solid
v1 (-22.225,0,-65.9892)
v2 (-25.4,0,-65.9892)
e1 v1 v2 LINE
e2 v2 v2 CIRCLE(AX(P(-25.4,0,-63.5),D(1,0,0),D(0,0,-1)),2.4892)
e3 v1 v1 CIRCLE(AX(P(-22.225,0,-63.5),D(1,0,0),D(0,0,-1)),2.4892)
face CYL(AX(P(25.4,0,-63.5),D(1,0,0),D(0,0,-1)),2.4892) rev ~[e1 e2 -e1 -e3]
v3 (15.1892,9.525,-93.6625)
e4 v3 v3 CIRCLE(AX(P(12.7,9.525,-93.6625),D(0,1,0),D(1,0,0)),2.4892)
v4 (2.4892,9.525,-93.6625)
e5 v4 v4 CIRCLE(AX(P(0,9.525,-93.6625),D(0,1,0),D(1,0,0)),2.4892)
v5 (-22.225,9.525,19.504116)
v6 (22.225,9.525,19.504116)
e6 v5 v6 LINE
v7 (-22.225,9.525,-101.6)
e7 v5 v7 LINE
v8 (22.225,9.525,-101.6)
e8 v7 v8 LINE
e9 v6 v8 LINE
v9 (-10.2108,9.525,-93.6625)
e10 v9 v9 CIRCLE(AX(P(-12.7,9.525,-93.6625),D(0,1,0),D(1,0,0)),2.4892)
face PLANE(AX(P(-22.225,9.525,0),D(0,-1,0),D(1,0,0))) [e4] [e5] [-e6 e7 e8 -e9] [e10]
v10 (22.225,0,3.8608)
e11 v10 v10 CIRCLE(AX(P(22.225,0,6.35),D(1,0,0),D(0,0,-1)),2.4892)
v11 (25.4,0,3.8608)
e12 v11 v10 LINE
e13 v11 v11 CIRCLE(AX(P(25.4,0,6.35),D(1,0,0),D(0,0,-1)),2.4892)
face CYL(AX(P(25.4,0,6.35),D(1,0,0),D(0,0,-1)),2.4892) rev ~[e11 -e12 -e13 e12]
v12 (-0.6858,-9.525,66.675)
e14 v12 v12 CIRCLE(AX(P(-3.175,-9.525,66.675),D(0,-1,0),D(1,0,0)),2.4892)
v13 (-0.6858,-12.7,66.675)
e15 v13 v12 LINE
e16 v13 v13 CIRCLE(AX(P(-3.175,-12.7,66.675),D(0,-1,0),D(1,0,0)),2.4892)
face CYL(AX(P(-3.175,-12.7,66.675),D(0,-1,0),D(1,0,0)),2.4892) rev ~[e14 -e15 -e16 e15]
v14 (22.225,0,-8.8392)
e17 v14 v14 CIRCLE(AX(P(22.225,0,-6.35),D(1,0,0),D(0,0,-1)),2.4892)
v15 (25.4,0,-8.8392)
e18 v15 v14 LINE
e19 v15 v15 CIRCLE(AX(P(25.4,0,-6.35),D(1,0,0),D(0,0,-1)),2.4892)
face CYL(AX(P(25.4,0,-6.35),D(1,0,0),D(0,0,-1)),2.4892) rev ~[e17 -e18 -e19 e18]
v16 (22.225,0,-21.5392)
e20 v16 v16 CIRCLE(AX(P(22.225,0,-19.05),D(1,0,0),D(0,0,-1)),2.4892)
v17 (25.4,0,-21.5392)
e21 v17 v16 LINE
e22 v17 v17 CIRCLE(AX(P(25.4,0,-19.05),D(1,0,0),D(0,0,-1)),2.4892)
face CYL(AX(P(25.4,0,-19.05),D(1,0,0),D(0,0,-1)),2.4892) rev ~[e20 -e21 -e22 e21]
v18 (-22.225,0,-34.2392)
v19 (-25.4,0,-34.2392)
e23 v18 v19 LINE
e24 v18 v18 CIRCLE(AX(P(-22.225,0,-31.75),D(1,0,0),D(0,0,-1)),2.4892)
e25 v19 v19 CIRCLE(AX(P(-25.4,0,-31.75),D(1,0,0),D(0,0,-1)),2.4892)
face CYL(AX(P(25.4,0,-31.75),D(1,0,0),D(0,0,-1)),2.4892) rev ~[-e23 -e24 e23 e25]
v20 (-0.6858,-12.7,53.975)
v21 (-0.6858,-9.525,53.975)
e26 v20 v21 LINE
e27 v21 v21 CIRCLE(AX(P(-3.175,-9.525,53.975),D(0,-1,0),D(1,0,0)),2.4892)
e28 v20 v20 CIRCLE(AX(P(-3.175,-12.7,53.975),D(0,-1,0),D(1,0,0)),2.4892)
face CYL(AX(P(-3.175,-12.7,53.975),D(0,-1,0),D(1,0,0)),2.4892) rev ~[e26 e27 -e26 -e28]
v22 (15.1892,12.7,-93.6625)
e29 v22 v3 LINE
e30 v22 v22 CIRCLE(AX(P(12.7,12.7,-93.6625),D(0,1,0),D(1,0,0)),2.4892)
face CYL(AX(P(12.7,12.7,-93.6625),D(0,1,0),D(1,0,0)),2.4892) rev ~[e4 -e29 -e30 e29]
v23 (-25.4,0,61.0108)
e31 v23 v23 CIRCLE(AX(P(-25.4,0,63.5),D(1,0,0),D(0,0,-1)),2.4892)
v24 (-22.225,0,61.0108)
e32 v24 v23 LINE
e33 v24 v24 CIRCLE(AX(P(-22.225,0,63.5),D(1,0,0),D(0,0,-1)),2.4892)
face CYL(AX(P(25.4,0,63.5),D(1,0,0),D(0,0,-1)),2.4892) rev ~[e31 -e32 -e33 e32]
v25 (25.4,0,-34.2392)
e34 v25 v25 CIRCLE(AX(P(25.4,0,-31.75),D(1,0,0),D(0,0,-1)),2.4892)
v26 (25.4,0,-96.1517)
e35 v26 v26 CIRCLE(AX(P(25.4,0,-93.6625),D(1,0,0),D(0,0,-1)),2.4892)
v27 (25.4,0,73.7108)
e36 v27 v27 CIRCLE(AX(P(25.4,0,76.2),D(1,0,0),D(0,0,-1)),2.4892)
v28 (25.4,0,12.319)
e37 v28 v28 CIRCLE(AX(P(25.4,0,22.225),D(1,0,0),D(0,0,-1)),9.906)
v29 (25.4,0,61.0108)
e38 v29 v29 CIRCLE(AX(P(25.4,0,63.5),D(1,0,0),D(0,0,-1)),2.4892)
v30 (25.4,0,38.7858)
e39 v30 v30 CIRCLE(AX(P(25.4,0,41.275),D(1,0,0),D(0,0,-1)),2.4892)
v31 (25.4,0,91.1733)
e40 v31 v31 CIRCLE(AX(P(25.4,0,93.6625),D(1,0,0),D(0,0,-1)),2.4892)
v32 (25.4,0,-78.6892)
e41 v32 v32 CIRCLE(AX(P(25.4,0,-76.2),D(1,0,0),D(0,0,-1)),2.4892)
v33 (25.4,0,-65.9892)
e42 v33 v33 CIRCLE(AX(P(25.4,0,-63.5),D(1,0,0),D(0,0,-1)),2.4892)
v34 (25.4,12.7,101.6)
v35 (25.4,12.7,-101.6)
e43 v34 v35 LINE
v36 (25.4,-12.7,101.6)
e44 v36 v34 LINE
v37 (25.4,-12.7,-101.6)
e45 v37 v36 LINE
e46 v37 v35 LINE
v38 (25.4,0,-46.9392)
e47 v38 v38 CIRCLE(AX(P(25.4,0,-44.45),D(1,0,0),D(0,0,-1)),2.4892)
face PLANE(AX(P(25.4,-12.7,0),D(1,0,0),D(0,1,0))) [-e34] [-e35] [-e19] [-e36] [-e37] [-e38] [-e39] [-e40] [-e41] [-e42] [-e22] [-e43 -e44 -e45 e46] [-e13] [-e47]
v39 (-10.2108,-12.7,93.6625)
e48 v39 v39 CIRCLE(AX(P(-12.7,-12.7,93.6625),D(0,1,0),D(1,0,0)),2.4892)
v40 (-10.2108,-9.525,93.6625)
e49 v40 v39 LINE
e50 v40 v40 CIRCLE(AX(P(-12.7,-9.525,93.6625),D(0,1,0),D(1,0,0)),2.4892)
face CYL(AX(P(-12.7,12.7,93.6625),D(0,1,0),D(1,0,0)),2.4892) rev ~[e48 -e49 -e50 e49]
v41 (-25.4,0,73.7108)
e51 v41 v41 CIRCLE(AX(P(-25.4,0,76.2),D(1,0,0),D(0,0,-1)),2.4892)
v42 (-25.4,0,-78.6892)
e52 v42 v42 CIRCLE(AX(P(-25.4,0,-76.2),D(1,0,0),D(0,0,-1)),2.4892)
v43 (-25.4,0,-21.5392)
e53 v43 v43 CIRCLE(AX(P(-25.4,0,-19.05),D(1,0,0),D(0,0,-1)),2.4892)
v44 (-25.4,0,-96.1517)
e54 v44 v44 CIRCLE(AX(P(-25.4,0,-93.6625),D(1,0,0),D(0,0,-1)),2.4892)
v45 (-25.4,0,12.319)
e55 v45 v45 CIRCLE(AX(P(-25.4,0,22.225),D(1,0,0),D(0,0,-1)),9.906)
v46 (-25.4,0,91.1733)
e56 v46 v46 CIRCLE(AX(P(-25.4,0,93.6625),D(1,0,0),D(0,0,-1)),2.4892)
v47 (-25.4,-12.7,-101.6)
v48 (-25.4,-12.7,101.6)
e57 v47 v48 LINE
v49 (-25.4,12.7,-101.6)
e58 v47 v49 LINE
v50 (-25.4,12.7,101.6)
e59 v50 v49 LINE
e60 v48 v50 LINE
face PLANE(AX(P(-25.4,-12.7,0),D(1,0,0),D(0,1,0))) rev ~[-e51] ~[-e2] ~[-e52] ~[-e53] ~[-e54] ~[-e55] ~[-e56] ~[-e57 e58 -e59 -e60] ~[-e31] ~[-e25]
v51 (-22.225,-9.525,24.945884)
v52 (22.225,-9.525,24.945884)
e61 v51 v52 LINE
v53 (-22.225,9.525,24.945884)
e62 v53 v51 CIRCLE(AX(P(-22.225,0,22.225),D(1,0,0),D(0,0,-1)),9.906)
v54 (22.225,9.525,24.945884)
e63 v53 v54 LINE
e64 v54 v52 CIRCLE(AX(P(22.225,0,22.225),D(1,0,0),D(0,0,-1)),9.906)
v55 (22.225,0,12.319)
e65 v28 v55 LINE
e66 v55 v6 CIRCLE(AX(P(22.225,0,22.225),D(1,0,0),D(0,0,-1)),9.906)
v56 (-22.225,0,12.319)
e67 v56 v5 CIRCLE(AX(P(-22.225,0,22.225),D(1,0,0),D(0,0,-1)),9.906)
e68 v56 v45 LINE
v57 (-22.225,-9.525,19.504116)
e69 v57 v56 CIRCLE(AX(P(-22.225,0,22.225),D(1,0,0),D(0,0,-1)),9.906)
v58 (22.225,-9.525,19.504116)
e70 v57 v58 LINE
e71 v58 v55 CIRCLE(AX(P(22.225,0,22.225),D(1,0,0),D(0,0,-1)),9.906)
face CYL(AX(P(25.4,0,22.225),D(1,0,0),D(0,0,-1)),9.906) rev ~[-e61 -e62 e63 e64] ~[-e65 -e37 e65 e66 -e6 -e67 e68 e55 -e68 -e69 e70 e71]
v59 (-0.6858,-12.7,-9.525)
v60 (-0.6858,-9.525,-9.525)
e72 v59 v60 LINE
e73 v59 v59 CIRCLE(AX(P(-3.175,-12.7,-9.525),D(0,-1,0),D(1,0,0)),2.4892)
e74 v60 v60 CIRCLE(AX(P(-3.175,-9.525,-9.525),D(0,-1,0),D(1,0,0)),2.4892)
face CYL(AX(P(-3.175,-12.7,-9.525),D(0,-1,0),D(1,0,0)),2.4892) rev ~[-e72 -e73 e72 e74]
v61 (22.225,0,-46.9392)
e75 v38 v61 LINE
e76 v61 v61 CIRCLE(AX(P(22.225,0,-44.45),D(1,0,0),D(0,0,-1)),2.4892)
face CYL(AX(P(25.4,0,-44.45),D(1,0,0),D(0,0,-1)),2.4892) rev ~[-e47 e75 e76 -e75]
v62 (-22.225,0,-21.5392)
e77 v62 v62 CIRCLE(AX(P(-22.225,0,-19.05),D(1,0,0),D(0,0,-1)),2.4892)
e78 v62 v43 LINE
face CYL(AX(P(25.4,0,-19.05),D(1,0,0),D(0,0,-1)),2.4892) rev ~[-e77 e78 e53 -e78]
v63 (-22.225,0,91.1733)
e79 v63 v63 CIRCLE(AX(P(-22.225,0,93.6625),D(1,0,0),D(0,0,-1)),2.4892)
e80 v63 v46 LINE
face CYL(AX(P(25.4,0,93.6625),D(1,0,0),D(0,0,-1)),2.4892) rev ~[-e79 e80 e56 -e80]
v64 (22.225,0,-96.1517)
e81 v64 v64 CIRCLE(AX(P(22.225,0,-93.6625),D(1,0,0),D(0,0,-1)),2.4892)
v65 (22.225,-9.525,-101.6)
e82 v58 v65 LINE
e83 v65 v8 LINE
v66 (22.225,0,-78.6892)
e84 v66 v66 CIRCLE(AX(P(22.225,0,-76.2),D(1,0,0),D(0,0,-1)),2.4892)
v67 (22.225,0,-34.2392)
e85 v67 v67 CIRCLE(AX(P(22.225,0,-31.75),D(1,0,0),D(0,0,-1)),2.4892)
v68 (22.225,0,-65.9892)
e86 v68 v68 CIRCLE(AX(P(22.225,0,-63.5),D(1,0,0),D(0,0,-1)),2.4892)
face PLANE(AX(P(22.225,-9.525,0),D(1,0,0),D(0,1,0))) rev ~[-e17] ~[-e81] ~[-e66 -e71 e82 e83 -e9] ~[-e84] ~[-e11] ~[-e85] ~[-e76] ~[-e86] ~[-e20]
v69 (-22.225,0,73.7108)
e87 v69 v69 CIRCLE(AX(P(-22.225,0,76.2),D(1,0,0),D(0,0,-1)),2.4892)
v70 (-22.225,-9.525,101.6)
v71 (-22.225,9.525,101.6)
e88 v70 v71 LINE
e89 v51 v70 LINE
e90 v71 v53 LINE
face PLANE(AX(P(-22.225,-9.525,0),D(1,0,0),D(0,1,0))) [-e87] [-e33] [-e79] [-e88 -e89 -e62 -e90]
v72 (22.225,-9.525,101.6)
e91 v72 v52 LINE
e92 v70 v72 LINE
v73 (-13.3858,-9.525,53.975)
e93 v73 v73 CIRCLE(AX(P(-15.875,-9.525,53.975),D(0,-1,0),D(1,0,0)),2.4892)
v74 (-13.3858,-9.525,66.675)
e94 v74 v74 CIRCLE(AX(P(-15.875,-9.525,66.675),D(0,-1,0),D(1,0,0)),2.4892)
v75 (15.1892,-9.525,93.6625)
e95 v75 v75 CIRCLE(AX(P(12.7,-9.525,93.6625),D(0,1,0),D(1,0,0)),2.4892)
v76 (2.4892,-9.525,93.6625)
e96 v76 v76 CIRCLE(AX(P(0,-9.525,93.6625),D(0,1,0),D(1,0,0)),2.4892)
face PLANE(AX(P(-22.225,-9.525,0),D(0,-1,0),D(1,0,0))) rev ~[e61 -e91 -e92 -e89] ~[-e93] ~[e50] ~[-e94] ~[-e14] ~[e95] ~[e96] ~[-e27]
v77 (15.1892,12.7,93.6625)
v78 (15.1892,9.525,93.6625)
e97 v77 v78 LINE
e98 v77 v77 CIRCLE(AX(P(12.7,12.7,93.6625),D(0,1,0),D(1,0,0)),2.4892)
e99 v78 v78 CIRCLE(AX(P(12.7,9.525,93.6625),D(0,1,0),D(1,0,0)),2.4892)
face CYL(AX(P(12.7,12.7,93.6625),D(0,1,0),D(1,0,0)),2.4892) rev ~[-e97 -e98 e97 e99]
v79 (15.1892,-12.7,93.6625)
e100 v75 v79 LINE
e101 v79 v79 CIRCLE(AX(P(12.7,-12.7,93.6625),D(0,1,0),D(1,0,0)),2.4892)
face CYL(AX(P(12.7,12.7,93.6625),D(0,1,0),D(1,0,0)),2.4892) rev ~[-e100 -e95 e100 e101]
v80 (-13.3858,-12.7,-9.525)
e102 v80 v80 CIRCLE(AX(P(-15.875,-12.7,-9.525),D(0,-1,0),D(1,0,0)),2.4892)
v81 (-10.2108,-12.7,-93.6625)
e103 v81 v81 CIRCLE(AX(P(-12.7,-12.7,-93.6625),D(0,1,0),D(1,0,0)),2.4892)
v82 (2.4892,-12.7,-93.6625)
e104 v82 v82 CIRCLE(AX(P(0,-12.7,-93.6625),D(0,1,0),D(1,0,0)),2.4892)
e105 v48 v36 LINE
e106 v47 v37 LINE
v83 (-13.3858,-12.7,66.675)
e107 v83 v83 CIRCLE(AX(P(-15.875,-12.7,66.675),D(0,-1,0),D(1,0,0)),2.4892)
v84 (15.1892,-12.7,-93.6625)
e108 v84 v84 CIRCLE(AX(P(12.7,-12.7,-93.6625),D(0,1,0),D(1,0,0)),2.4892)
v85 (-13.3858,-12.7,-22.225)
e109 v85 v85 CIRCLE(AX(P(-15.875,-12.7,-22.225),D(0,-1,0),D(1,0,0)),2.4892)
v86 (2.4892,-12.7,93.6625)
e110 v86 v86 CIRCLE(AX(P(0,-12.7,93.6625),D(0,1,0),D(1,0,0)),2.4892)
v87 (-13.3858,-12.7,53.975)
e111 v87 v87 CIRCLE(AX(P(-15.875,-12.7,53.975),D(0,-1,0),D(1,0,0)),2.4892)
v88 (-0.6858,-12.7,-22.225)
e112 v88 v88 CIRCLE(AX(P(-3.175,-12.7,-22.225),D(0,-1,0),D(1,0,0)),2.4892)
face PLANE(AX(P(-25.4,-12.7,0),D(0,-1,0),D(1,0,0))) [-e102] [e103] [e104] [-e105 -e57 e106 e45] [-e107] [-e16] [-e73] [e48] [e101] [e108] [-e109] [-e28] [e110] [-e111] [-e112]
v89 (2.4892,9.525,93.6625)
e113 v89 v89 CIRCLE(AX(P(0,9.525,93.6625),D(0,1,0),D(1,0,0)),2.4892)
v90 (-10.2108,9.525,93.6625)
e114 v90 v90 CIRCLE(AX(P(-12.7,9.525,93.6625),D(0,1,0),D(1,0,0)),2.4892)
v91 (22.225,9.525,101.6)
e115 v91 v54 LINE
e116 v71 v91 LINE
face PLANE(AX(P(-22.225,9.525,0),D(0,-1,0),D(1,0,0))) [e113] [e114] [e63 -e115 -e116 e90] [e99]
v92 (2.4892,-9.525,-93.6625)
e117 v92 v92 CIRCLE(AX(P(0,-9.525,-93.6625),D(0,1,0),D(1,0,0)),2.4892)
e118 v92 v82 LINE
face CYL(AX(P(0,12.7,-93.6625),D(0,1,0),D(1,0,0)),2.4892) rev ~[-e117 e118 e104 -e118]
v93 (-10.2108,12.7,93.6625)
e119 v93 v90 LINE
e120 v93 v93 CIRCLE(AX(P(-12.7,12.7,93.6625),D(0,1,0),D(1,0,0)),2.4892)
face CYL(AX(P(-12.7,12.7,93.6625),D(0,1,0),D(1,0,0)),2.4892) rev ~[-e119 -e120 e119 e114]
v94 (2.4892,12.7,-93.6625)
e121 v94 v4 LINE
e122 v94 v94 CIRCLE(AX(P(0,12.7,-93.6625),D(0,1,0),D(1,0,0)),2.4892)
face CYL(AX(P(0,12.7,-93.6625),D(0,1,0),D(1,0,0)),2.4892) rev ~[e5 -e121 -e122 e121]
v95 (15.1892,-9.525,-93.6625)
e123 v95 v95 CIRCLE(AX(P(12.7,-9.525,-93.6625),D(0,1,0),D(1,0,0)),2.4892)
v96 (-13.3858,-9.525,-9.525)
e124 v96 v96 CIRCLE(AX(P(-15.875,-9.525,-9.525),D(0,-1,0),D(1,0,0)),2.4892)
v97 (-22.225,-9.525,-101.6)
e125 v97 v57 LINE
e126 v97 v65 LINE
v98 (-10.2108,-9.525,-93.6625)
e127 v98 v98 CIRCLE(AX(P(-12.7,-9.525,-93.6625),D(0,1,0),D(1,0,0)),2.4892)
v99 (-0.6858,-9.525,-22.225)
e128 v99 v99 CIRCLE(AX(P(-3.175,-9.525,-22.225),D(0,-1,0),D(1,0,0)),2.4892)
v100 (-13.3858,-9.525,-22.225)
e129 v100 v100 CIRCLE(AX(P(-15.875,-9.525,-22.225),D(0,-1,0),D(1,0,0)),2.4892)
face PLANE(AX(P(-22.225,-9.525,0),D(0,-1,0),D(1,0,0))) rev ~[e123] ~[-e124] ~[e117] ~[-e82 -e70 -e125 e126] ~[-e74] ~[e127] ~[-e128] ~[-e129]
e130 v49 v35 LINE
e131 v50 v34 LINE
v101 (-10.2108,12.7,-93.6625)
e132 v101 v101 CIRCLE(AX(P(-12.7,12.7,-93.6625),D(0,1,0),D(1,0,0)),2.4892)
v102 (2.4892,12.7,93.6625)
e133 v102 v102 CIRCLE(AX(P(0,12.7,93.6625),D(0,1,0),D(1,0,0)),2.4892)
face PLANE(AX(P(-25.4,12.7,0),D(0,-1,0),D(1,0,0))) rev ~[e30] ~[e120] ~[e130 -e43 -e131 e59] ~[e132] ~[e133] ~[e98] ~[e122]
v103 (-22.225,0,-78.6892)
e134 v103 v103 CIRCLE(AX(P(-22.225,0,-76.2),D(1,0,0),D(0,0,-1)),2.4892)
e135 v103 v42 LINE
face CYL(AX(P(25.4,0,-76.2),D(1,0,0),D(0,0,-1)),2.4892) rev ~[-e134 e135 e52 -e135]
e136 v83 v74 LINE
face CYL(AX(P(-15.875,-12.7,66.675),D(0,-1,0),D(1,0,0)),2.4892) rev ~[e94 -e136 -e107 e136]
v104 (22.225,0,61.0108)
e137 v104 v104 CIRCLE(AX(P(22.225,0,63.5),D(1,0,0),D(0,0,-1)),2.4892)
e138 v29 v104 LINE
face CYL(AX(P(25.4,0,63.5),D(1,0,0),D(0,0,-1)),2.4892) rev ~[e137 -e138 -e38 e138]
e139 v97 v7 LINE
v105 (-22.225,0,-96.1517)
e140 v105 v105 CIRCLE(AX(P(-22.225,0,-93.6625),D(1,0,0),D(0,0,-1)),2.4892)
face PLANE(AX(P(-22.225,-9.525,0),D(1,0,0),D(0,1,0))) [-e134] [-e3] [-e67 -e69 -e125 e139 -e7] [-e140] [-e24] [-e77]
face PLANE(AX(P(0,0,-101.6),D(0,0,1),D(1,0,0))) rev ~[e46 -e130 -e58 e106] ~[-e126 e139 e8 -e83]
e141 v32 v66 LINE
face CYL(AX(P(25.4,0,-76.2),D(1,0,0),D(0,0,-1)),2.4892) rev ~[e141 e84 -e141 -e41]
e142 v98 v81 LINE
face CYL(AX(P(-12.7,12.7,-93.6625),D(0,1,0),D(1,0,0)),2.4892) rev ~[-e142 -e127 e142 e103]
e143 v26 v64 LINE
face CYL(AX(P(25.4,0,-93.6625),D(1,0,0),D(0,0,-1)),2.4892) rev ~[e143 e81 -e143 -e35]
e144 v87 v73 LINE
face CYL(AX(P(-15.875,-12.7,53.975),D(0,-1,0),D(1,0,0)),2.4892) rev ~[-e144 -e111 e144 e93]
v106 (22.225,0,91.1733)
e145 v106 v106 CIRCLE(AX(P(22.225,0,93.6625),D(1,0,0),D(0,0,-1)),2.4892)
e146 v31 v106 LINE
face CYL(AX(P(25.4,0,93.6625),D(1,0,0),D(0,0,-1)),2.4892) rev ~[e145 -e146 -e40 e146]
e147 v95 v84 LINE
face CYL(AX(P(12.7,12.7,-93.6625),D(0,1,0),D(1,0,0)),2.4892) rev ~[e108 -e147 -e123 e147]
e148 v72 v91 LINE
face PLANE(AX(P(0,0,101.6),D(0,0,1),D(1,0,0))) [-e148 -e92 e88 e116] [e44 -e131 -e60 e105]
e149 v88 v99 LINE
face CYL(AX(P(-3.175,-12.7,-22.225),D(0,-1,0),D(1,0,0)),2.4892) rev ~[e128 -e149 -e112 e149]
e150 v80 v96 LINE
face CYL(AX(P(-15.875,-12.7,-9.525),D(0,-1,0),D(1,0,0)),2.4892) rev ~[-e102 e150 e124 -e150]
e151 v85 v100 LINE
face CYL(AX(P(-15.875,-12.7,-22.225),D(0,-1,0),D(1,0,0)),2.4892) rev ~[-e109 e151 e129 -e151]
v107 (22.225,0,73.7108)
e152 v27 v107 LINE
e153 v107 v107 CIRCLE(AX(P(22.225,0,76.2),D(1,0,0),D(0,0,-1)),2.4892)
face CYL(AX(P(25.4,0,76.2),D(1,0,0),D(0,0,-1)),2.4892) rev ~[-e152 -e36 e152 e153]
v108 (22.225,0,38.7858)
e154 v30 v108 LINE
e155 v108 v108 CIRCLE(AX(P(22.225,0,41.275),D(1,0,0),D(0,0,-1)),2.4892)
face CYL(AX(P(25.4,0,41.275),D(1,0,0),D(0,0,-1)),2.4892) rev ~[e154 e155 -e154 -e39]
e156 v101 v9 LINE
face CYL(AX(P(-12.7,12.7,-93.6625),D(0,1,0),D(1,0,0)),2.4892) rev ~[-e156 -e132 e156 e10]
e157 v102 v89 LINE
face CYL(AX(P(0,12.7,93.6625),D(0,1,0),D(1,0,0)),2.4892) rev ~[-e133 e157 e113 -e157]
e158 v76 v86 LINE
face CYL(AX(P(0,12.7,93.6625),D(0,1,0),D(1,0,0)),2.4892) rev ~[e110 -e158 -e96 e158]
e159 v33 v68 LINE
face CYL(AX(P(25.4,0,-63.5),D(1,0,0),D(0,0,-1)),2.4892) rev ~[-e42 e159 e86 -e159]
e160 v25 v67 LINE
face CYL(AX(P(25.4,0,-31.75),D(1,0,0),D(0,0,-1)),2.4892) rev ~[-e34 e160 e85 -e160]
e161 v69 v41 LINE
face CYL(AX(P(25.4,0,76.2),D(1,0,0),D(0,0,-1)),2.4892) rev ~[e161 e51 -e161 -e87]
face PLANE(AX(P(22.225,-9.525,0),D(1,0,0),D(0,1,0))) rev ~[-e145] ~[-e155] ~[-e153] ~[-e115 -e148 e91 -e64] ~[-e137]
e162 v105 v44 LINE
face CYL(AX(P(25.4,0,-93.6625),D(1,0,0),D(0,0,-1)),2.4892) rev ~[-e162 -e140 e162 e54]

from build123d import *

# Parameters (mm, degrees)
SKETCH1_W           = 50.8
SKETCH1_H           = 25.4
SKETCH1_W_2         = 44.45
SKETCH1_H_2         = 19.05
BOSS_EXTRUDE1_DEPTH = 101.6
SKETCH3_R           = 2.4892
CUT_EXTRUDE2_DEPTH  = 26.4
SKETCH4_R           = 9.906
SKETCH4_R_2         = 2.4892
CUT_EXTRUDE3_DEPTH  = 51.8
SKETCH2_R           = 2.4892
CUT_EXTRUDE1_DEPTH  = 51.8
CUT_EXTRUDE4_REACH  = 27.4
SKETCH5_R           = 2.4892
CUT_EXTRUDE5_REACH  = 52.8
SKETCH7_R           = 2.4892


with BuildPart() as part:
    # Sketch1 → Boss-Extrude1 (new body, symmetric)
    with BuildSketch(Plane.XY):
        Rectangle(SKETCH1_W, SKETCH1_H)
        Rectangle(SKETCH1_W_2, SKETCH1_H_2, mode=Mode.SUBTRACT)
    extrude(amount=BOSS_EXTRUDE1_DEPTH, both=True)

    # Sketch3 → Cut-Extrude2 (cut, through all)
    with BuildSketch(Plane(origin=(0, 12.7, 0), x_dir=(1, 0, 0), z_dir=(0, 1, 0))):
        with Locations((-12.7, -93.6625)):
            Circle(SKETCH3_R)
        with Locations((0, -93.6625)):
            Circle(SKETCH3_R)
        with Locations((12.7, -93.6625)):
            Circle(SKETCH3_R)
        with Locations((12.7, 93.6625)):
            Circle(SKETCH3_R)
        with Locations((0, 93.6625)):
            Circle(SKETCH3_R)
        with Locations((-12.7, 93.6625)):
            Circle(SKETCH3_R)
    extrude(amount=-CUT_EXTRUDE2_DEPTH, mode=Mode.SUBTRACT)

    # Sketch4 → Cut-Extrude3 (cut, through all)
    with BuildSketch(Plane(origin=(25.4, 0, 0), x_dir=(0, 0, -1), z_dir=(1, 0, 0))):
        with Locations((-22.225, 0)):
            Circle(SKETCH4_R)
        with Locations((31.75, 0)):
            Circle(SKETCH4_R_2)
        with Locations((19.05, 0)):
            Circle(SKETCH4_R_2)
    extrude(amount=-CUT_EXTRUDE3_DEPTH, mode=Mode.SUBTRACT)

    # Sketch2 → Cut-Extrude1 (cut, through all)
    with BuildSketch(Plane(origin=(25.4, 0, 0), x_dir=(0, 0, -1), z_dir=(1, 0, 0))):
        with Locations((-93.6625, 0)):
            Circle(SKETCH2_R)
        with Locations((93.6625, 0)):
            Circle(SKETCH2_R)
        with Locations((-76.2, 0)):
            Circle(SKETCH2_R)
        with Locations((-63.5, 0)):
            Circle(SKETCH2_R)
        with Locations((63.5, 0)):
            Circle(SKETCH2_R)
        with Locations((76.2, 0)):
            Circle(SKETCH2_R)
    extrude(amount=-CUT_EXTRUDE1_DEPTH, mode=Mode.SUBTRACT)

    # Sketch5 → Cut-Extrude4 (cut, up to next)
    with BuildSketch(Plane.XZ.offset(12.7), mode=Mode.PRIVATE) as cut_extrude4_sk1:
        with Locations((-3.175, 66.675)):
            Circle(SKETCH5_R)
    cut_extrude4_tool1 = extrude(cut_extrude4_sk1.sketch, amount=-CUT_EXTRUDE4_REACH, mode=Mode.PRIVATE) & part.part
    add(cut_extrude4_tool1.solids().sort_by_distance((-3.175, -12.7, 66.675))[0], mode=Mode.SUBTRACT)
    # Sketch5 → Cut-Extrude4 (cut, up to next)
    with BuildSketch(Plane.XZ.offset(12.7), mode=Mode.PRIVATE) as cut_extrude4_sk2:
        with Locations((-15.875, 66.675)):
            Circle(SKETCH5_R)
    cut_extrude4_tool2 = extrude(cut_extrude4_sk2.sketch, amount=-CUT_EXTRUDE4_REACH, mode=Mode.PRIVATE) & part.part
    add(cut_extrude4_tool2.solids().sort_by_distance((-15.875, -12.7, 66.675))[0], mode=Mode.SUBTRACT)
    # Sketch5 → Cut-Extrude4 (cut, up to next)
    with BuildSketch(Plane.XZ.offset(12.7), mode=Mode.PRIVATE) as cut_extrude4_sk3:
        with Locations((-15.875, 53.975)):
            Circle(SKETCH5_R)
    cut_extrude4_tool3 = extrude(cut_extrude4_sk3.sketch, amount=-CUT_EXTRUDE4_REACH, mode=Mode.PRIVATE) & part.part
    add(cut_extrude4_tool3.solids().sort_by_distance((-15.875, -12.7, 53.975))[0], mode=Mode.SUBTRACT)
    # Sketch5 → Cut-Extrude4 (cut, up to next)
    with BuildSketch(Plane.XZ.offset(12.7), mode=Mode.PRIVATE) as cut_extrude4_sk4:
        with Locations((-3.175, 53.975)):
            Circle(SKETCH5_R)
    cut_extrude4_tool4 = extrude(cut_extrude4_sk4.sketch, amount=-CUT_EXTRUDE4_REACH, mode=Mode.PRIVATE) & part.part
    add(cut_extrude4_tool4.solids().sort_by_distance((-3.175, -12.7, 53.975))[0], mode=Mode.SUBTRACT)
    # Sketch5 → Cut-Extrude4 (cut, up to next)
    with BuildSketch(Plane.XZ.offset(12.7), mode=Mode.PRIVATE) as cut_extrude4_sk5:
        with Locations((-3.175, -9.525)):
            Circle(SKETCH5_R)
    cut_extrude4_tool5 = extrude(cut_extrude4_sk5.sketch, amount=-CUT_EXTRUDE4_REACH, mode=Mode.PRIVATE) & part.part
    add(cut_extrude4_tool5.solids().sort_by_distance((-3.175, -12.7, -9.525))[0], mode=Mode.SUBTRACT)
    # Sketch5 → Cut-Extrude4 (cut, up to next)
    with BuildSketch(Plane.XZ.offset(12.7), mode=Mode.PRIVATE) as cut_extrude4_sk6:
        with Locations((-15.875, -9.525)):
            Circle(SKETCH5_R)
    cut_extrude4_tool6 = extrude(cut_extrude4_sk6.sketch, amount=-CUT_EXTRUDE4_REACH, mode=Mode.PRIVATE) & part.part
    add(cut_extrude4_tool6.solids().sort_by_distance((-15.875, -12.7, -9.525))[0], mode=Mode.SUBTRACT)
    # Sketch5 → Cut-Extrude4 (cut, up to next)
    with BuildSketch(Plane.XZ.offset(12.7), mode=Mode.PRIVATE) as cut_extrude4_sk7:
        with Locations((-15.875, -22.225)):
            Circle(SKETCH5_R)
    cut_extrude4_tool7 = extrude(cut_extrude4_sk7.sketch, amount=-CUT_EXTRUDE4_REACH, mode=Mode.PRIVATE) & part.part
    add(cut_extrude4_tool7.solids().sort_by_distance((-15.875, -12.7, -22.225))[0], mode=Mode.SUBTRACT)
    # Sketch5 → Cut-Extrude4 (cut, up to next)
    with BuildSketch(Plane.XZ.offset(12.7), mode=Mode.PRIVATE) as cut_extrude4_sk8:
        with Locations((-3.175, -22.225)):
            Circle(SKETCH5_R)
    cut_extrude4_tool8 = extrude(cut_extrude4_sk8.sketch, amount=-CUT_EXTRUDE4_REACH, mode=Mode.PRIVATE) & part.part
    add(cut_extrude4_tool8.solids().sort_by_distance((-3.175, -12.7, -22.225))[0], mode=Mode.SUBTRACT)

    # Sketch7 → Cut-Extrude5 (cut, up to next)
    with BuildSketch(Plane(origin=(25.4, 0, 0), x_dir=(0, 0, -1), z_dir=(1, 0, 0)), mode=Mode.PRIVATE) as cut_extrude5_sk1:
        with Locations((44.45, 0)):
            Circle(SKETCH7_R)
    cut_extrude5_tool1 = extrude(cut_extrude5_sk1.sketch, amount=-CUT_EXTRUDE5_REACH, mode=Mode.PRIVATE) & part.part
    add(cut_extrude5_tool1.solids().sort_by_distance((25.4, 0, -44.45))[0], mode=Mode.SUBTRACT)
    # Sketch7 → Cut-Extrude5 (cut, up to next)
    with BuildSketch(Plane(origin=(25.4, 0, 0), x_dir=(0, 0, -1), z_dir=(1, 0, 0)), mode=Mode.PRIVATE) as cut_extrude5_sk2:
        with Locations((6.35, 0)):
            Circle(SKETCH7_R)
    cut_extrude5_tool2 = extrude(cut_extrude5_sk2.sketch, amount=-CUT_EXTRUDE5_REACH, mode=Mode.PRIVATE) & part.part
    add(cut_extrude5_tool2.solids().sort_by_distance((25.4, 0, -6.35))[0], mode=Mode.SUBTRACT)
    # Sketch7 → Cut-Extrude5 (cut, up to next)
    with BuildSketch(Plane(origin=(25.4, 0, 0), x_dir=(0, 0, -1), z_dir=(1, 0, 0)), mode=Mode.PRIVATE) as cut_extrude5_sk3:
        with Locations((-6.35, 0)):
            Circle(SKETCH7_R)
    cut_extrude5_tool3 = extrude(cut_extrude5_sk3.sketch, amount=-CUT_EXTRUDE5_REACH, mode=Mode.PRIVATE) & part.part
    add(cut_extrude5_tool3.solids().sort_by_distance((25.4, 0, 6.35))[0], mode=Mode.SUBTRACT)
    # Sketch7 → Cut-Extrude5 (cut, up to next)
    with BuildSketch(Plane(origin=(25.4, 0, 0), x_dir=(0, 0, -1), z_dir=(1, 0, 0)), mode=Mode.PRIVATE) as cut_extrude5_sk4:
        with Locations((-41.275, 0)):
            Circle(SKETCH7_R)
    cut_extrude5_tool4 = extrude(cut_extrude5_sk4.sketch, amount=-CUT_EXTRUDE5_REACH, mode=Mode.PRIVATE) & part.part
    add(cut_extrude5_tool4.solids().sort_by_distance((25.4, 0, 41.275))[0], mode=Mode.SUBTRACT)


solid = part.part
